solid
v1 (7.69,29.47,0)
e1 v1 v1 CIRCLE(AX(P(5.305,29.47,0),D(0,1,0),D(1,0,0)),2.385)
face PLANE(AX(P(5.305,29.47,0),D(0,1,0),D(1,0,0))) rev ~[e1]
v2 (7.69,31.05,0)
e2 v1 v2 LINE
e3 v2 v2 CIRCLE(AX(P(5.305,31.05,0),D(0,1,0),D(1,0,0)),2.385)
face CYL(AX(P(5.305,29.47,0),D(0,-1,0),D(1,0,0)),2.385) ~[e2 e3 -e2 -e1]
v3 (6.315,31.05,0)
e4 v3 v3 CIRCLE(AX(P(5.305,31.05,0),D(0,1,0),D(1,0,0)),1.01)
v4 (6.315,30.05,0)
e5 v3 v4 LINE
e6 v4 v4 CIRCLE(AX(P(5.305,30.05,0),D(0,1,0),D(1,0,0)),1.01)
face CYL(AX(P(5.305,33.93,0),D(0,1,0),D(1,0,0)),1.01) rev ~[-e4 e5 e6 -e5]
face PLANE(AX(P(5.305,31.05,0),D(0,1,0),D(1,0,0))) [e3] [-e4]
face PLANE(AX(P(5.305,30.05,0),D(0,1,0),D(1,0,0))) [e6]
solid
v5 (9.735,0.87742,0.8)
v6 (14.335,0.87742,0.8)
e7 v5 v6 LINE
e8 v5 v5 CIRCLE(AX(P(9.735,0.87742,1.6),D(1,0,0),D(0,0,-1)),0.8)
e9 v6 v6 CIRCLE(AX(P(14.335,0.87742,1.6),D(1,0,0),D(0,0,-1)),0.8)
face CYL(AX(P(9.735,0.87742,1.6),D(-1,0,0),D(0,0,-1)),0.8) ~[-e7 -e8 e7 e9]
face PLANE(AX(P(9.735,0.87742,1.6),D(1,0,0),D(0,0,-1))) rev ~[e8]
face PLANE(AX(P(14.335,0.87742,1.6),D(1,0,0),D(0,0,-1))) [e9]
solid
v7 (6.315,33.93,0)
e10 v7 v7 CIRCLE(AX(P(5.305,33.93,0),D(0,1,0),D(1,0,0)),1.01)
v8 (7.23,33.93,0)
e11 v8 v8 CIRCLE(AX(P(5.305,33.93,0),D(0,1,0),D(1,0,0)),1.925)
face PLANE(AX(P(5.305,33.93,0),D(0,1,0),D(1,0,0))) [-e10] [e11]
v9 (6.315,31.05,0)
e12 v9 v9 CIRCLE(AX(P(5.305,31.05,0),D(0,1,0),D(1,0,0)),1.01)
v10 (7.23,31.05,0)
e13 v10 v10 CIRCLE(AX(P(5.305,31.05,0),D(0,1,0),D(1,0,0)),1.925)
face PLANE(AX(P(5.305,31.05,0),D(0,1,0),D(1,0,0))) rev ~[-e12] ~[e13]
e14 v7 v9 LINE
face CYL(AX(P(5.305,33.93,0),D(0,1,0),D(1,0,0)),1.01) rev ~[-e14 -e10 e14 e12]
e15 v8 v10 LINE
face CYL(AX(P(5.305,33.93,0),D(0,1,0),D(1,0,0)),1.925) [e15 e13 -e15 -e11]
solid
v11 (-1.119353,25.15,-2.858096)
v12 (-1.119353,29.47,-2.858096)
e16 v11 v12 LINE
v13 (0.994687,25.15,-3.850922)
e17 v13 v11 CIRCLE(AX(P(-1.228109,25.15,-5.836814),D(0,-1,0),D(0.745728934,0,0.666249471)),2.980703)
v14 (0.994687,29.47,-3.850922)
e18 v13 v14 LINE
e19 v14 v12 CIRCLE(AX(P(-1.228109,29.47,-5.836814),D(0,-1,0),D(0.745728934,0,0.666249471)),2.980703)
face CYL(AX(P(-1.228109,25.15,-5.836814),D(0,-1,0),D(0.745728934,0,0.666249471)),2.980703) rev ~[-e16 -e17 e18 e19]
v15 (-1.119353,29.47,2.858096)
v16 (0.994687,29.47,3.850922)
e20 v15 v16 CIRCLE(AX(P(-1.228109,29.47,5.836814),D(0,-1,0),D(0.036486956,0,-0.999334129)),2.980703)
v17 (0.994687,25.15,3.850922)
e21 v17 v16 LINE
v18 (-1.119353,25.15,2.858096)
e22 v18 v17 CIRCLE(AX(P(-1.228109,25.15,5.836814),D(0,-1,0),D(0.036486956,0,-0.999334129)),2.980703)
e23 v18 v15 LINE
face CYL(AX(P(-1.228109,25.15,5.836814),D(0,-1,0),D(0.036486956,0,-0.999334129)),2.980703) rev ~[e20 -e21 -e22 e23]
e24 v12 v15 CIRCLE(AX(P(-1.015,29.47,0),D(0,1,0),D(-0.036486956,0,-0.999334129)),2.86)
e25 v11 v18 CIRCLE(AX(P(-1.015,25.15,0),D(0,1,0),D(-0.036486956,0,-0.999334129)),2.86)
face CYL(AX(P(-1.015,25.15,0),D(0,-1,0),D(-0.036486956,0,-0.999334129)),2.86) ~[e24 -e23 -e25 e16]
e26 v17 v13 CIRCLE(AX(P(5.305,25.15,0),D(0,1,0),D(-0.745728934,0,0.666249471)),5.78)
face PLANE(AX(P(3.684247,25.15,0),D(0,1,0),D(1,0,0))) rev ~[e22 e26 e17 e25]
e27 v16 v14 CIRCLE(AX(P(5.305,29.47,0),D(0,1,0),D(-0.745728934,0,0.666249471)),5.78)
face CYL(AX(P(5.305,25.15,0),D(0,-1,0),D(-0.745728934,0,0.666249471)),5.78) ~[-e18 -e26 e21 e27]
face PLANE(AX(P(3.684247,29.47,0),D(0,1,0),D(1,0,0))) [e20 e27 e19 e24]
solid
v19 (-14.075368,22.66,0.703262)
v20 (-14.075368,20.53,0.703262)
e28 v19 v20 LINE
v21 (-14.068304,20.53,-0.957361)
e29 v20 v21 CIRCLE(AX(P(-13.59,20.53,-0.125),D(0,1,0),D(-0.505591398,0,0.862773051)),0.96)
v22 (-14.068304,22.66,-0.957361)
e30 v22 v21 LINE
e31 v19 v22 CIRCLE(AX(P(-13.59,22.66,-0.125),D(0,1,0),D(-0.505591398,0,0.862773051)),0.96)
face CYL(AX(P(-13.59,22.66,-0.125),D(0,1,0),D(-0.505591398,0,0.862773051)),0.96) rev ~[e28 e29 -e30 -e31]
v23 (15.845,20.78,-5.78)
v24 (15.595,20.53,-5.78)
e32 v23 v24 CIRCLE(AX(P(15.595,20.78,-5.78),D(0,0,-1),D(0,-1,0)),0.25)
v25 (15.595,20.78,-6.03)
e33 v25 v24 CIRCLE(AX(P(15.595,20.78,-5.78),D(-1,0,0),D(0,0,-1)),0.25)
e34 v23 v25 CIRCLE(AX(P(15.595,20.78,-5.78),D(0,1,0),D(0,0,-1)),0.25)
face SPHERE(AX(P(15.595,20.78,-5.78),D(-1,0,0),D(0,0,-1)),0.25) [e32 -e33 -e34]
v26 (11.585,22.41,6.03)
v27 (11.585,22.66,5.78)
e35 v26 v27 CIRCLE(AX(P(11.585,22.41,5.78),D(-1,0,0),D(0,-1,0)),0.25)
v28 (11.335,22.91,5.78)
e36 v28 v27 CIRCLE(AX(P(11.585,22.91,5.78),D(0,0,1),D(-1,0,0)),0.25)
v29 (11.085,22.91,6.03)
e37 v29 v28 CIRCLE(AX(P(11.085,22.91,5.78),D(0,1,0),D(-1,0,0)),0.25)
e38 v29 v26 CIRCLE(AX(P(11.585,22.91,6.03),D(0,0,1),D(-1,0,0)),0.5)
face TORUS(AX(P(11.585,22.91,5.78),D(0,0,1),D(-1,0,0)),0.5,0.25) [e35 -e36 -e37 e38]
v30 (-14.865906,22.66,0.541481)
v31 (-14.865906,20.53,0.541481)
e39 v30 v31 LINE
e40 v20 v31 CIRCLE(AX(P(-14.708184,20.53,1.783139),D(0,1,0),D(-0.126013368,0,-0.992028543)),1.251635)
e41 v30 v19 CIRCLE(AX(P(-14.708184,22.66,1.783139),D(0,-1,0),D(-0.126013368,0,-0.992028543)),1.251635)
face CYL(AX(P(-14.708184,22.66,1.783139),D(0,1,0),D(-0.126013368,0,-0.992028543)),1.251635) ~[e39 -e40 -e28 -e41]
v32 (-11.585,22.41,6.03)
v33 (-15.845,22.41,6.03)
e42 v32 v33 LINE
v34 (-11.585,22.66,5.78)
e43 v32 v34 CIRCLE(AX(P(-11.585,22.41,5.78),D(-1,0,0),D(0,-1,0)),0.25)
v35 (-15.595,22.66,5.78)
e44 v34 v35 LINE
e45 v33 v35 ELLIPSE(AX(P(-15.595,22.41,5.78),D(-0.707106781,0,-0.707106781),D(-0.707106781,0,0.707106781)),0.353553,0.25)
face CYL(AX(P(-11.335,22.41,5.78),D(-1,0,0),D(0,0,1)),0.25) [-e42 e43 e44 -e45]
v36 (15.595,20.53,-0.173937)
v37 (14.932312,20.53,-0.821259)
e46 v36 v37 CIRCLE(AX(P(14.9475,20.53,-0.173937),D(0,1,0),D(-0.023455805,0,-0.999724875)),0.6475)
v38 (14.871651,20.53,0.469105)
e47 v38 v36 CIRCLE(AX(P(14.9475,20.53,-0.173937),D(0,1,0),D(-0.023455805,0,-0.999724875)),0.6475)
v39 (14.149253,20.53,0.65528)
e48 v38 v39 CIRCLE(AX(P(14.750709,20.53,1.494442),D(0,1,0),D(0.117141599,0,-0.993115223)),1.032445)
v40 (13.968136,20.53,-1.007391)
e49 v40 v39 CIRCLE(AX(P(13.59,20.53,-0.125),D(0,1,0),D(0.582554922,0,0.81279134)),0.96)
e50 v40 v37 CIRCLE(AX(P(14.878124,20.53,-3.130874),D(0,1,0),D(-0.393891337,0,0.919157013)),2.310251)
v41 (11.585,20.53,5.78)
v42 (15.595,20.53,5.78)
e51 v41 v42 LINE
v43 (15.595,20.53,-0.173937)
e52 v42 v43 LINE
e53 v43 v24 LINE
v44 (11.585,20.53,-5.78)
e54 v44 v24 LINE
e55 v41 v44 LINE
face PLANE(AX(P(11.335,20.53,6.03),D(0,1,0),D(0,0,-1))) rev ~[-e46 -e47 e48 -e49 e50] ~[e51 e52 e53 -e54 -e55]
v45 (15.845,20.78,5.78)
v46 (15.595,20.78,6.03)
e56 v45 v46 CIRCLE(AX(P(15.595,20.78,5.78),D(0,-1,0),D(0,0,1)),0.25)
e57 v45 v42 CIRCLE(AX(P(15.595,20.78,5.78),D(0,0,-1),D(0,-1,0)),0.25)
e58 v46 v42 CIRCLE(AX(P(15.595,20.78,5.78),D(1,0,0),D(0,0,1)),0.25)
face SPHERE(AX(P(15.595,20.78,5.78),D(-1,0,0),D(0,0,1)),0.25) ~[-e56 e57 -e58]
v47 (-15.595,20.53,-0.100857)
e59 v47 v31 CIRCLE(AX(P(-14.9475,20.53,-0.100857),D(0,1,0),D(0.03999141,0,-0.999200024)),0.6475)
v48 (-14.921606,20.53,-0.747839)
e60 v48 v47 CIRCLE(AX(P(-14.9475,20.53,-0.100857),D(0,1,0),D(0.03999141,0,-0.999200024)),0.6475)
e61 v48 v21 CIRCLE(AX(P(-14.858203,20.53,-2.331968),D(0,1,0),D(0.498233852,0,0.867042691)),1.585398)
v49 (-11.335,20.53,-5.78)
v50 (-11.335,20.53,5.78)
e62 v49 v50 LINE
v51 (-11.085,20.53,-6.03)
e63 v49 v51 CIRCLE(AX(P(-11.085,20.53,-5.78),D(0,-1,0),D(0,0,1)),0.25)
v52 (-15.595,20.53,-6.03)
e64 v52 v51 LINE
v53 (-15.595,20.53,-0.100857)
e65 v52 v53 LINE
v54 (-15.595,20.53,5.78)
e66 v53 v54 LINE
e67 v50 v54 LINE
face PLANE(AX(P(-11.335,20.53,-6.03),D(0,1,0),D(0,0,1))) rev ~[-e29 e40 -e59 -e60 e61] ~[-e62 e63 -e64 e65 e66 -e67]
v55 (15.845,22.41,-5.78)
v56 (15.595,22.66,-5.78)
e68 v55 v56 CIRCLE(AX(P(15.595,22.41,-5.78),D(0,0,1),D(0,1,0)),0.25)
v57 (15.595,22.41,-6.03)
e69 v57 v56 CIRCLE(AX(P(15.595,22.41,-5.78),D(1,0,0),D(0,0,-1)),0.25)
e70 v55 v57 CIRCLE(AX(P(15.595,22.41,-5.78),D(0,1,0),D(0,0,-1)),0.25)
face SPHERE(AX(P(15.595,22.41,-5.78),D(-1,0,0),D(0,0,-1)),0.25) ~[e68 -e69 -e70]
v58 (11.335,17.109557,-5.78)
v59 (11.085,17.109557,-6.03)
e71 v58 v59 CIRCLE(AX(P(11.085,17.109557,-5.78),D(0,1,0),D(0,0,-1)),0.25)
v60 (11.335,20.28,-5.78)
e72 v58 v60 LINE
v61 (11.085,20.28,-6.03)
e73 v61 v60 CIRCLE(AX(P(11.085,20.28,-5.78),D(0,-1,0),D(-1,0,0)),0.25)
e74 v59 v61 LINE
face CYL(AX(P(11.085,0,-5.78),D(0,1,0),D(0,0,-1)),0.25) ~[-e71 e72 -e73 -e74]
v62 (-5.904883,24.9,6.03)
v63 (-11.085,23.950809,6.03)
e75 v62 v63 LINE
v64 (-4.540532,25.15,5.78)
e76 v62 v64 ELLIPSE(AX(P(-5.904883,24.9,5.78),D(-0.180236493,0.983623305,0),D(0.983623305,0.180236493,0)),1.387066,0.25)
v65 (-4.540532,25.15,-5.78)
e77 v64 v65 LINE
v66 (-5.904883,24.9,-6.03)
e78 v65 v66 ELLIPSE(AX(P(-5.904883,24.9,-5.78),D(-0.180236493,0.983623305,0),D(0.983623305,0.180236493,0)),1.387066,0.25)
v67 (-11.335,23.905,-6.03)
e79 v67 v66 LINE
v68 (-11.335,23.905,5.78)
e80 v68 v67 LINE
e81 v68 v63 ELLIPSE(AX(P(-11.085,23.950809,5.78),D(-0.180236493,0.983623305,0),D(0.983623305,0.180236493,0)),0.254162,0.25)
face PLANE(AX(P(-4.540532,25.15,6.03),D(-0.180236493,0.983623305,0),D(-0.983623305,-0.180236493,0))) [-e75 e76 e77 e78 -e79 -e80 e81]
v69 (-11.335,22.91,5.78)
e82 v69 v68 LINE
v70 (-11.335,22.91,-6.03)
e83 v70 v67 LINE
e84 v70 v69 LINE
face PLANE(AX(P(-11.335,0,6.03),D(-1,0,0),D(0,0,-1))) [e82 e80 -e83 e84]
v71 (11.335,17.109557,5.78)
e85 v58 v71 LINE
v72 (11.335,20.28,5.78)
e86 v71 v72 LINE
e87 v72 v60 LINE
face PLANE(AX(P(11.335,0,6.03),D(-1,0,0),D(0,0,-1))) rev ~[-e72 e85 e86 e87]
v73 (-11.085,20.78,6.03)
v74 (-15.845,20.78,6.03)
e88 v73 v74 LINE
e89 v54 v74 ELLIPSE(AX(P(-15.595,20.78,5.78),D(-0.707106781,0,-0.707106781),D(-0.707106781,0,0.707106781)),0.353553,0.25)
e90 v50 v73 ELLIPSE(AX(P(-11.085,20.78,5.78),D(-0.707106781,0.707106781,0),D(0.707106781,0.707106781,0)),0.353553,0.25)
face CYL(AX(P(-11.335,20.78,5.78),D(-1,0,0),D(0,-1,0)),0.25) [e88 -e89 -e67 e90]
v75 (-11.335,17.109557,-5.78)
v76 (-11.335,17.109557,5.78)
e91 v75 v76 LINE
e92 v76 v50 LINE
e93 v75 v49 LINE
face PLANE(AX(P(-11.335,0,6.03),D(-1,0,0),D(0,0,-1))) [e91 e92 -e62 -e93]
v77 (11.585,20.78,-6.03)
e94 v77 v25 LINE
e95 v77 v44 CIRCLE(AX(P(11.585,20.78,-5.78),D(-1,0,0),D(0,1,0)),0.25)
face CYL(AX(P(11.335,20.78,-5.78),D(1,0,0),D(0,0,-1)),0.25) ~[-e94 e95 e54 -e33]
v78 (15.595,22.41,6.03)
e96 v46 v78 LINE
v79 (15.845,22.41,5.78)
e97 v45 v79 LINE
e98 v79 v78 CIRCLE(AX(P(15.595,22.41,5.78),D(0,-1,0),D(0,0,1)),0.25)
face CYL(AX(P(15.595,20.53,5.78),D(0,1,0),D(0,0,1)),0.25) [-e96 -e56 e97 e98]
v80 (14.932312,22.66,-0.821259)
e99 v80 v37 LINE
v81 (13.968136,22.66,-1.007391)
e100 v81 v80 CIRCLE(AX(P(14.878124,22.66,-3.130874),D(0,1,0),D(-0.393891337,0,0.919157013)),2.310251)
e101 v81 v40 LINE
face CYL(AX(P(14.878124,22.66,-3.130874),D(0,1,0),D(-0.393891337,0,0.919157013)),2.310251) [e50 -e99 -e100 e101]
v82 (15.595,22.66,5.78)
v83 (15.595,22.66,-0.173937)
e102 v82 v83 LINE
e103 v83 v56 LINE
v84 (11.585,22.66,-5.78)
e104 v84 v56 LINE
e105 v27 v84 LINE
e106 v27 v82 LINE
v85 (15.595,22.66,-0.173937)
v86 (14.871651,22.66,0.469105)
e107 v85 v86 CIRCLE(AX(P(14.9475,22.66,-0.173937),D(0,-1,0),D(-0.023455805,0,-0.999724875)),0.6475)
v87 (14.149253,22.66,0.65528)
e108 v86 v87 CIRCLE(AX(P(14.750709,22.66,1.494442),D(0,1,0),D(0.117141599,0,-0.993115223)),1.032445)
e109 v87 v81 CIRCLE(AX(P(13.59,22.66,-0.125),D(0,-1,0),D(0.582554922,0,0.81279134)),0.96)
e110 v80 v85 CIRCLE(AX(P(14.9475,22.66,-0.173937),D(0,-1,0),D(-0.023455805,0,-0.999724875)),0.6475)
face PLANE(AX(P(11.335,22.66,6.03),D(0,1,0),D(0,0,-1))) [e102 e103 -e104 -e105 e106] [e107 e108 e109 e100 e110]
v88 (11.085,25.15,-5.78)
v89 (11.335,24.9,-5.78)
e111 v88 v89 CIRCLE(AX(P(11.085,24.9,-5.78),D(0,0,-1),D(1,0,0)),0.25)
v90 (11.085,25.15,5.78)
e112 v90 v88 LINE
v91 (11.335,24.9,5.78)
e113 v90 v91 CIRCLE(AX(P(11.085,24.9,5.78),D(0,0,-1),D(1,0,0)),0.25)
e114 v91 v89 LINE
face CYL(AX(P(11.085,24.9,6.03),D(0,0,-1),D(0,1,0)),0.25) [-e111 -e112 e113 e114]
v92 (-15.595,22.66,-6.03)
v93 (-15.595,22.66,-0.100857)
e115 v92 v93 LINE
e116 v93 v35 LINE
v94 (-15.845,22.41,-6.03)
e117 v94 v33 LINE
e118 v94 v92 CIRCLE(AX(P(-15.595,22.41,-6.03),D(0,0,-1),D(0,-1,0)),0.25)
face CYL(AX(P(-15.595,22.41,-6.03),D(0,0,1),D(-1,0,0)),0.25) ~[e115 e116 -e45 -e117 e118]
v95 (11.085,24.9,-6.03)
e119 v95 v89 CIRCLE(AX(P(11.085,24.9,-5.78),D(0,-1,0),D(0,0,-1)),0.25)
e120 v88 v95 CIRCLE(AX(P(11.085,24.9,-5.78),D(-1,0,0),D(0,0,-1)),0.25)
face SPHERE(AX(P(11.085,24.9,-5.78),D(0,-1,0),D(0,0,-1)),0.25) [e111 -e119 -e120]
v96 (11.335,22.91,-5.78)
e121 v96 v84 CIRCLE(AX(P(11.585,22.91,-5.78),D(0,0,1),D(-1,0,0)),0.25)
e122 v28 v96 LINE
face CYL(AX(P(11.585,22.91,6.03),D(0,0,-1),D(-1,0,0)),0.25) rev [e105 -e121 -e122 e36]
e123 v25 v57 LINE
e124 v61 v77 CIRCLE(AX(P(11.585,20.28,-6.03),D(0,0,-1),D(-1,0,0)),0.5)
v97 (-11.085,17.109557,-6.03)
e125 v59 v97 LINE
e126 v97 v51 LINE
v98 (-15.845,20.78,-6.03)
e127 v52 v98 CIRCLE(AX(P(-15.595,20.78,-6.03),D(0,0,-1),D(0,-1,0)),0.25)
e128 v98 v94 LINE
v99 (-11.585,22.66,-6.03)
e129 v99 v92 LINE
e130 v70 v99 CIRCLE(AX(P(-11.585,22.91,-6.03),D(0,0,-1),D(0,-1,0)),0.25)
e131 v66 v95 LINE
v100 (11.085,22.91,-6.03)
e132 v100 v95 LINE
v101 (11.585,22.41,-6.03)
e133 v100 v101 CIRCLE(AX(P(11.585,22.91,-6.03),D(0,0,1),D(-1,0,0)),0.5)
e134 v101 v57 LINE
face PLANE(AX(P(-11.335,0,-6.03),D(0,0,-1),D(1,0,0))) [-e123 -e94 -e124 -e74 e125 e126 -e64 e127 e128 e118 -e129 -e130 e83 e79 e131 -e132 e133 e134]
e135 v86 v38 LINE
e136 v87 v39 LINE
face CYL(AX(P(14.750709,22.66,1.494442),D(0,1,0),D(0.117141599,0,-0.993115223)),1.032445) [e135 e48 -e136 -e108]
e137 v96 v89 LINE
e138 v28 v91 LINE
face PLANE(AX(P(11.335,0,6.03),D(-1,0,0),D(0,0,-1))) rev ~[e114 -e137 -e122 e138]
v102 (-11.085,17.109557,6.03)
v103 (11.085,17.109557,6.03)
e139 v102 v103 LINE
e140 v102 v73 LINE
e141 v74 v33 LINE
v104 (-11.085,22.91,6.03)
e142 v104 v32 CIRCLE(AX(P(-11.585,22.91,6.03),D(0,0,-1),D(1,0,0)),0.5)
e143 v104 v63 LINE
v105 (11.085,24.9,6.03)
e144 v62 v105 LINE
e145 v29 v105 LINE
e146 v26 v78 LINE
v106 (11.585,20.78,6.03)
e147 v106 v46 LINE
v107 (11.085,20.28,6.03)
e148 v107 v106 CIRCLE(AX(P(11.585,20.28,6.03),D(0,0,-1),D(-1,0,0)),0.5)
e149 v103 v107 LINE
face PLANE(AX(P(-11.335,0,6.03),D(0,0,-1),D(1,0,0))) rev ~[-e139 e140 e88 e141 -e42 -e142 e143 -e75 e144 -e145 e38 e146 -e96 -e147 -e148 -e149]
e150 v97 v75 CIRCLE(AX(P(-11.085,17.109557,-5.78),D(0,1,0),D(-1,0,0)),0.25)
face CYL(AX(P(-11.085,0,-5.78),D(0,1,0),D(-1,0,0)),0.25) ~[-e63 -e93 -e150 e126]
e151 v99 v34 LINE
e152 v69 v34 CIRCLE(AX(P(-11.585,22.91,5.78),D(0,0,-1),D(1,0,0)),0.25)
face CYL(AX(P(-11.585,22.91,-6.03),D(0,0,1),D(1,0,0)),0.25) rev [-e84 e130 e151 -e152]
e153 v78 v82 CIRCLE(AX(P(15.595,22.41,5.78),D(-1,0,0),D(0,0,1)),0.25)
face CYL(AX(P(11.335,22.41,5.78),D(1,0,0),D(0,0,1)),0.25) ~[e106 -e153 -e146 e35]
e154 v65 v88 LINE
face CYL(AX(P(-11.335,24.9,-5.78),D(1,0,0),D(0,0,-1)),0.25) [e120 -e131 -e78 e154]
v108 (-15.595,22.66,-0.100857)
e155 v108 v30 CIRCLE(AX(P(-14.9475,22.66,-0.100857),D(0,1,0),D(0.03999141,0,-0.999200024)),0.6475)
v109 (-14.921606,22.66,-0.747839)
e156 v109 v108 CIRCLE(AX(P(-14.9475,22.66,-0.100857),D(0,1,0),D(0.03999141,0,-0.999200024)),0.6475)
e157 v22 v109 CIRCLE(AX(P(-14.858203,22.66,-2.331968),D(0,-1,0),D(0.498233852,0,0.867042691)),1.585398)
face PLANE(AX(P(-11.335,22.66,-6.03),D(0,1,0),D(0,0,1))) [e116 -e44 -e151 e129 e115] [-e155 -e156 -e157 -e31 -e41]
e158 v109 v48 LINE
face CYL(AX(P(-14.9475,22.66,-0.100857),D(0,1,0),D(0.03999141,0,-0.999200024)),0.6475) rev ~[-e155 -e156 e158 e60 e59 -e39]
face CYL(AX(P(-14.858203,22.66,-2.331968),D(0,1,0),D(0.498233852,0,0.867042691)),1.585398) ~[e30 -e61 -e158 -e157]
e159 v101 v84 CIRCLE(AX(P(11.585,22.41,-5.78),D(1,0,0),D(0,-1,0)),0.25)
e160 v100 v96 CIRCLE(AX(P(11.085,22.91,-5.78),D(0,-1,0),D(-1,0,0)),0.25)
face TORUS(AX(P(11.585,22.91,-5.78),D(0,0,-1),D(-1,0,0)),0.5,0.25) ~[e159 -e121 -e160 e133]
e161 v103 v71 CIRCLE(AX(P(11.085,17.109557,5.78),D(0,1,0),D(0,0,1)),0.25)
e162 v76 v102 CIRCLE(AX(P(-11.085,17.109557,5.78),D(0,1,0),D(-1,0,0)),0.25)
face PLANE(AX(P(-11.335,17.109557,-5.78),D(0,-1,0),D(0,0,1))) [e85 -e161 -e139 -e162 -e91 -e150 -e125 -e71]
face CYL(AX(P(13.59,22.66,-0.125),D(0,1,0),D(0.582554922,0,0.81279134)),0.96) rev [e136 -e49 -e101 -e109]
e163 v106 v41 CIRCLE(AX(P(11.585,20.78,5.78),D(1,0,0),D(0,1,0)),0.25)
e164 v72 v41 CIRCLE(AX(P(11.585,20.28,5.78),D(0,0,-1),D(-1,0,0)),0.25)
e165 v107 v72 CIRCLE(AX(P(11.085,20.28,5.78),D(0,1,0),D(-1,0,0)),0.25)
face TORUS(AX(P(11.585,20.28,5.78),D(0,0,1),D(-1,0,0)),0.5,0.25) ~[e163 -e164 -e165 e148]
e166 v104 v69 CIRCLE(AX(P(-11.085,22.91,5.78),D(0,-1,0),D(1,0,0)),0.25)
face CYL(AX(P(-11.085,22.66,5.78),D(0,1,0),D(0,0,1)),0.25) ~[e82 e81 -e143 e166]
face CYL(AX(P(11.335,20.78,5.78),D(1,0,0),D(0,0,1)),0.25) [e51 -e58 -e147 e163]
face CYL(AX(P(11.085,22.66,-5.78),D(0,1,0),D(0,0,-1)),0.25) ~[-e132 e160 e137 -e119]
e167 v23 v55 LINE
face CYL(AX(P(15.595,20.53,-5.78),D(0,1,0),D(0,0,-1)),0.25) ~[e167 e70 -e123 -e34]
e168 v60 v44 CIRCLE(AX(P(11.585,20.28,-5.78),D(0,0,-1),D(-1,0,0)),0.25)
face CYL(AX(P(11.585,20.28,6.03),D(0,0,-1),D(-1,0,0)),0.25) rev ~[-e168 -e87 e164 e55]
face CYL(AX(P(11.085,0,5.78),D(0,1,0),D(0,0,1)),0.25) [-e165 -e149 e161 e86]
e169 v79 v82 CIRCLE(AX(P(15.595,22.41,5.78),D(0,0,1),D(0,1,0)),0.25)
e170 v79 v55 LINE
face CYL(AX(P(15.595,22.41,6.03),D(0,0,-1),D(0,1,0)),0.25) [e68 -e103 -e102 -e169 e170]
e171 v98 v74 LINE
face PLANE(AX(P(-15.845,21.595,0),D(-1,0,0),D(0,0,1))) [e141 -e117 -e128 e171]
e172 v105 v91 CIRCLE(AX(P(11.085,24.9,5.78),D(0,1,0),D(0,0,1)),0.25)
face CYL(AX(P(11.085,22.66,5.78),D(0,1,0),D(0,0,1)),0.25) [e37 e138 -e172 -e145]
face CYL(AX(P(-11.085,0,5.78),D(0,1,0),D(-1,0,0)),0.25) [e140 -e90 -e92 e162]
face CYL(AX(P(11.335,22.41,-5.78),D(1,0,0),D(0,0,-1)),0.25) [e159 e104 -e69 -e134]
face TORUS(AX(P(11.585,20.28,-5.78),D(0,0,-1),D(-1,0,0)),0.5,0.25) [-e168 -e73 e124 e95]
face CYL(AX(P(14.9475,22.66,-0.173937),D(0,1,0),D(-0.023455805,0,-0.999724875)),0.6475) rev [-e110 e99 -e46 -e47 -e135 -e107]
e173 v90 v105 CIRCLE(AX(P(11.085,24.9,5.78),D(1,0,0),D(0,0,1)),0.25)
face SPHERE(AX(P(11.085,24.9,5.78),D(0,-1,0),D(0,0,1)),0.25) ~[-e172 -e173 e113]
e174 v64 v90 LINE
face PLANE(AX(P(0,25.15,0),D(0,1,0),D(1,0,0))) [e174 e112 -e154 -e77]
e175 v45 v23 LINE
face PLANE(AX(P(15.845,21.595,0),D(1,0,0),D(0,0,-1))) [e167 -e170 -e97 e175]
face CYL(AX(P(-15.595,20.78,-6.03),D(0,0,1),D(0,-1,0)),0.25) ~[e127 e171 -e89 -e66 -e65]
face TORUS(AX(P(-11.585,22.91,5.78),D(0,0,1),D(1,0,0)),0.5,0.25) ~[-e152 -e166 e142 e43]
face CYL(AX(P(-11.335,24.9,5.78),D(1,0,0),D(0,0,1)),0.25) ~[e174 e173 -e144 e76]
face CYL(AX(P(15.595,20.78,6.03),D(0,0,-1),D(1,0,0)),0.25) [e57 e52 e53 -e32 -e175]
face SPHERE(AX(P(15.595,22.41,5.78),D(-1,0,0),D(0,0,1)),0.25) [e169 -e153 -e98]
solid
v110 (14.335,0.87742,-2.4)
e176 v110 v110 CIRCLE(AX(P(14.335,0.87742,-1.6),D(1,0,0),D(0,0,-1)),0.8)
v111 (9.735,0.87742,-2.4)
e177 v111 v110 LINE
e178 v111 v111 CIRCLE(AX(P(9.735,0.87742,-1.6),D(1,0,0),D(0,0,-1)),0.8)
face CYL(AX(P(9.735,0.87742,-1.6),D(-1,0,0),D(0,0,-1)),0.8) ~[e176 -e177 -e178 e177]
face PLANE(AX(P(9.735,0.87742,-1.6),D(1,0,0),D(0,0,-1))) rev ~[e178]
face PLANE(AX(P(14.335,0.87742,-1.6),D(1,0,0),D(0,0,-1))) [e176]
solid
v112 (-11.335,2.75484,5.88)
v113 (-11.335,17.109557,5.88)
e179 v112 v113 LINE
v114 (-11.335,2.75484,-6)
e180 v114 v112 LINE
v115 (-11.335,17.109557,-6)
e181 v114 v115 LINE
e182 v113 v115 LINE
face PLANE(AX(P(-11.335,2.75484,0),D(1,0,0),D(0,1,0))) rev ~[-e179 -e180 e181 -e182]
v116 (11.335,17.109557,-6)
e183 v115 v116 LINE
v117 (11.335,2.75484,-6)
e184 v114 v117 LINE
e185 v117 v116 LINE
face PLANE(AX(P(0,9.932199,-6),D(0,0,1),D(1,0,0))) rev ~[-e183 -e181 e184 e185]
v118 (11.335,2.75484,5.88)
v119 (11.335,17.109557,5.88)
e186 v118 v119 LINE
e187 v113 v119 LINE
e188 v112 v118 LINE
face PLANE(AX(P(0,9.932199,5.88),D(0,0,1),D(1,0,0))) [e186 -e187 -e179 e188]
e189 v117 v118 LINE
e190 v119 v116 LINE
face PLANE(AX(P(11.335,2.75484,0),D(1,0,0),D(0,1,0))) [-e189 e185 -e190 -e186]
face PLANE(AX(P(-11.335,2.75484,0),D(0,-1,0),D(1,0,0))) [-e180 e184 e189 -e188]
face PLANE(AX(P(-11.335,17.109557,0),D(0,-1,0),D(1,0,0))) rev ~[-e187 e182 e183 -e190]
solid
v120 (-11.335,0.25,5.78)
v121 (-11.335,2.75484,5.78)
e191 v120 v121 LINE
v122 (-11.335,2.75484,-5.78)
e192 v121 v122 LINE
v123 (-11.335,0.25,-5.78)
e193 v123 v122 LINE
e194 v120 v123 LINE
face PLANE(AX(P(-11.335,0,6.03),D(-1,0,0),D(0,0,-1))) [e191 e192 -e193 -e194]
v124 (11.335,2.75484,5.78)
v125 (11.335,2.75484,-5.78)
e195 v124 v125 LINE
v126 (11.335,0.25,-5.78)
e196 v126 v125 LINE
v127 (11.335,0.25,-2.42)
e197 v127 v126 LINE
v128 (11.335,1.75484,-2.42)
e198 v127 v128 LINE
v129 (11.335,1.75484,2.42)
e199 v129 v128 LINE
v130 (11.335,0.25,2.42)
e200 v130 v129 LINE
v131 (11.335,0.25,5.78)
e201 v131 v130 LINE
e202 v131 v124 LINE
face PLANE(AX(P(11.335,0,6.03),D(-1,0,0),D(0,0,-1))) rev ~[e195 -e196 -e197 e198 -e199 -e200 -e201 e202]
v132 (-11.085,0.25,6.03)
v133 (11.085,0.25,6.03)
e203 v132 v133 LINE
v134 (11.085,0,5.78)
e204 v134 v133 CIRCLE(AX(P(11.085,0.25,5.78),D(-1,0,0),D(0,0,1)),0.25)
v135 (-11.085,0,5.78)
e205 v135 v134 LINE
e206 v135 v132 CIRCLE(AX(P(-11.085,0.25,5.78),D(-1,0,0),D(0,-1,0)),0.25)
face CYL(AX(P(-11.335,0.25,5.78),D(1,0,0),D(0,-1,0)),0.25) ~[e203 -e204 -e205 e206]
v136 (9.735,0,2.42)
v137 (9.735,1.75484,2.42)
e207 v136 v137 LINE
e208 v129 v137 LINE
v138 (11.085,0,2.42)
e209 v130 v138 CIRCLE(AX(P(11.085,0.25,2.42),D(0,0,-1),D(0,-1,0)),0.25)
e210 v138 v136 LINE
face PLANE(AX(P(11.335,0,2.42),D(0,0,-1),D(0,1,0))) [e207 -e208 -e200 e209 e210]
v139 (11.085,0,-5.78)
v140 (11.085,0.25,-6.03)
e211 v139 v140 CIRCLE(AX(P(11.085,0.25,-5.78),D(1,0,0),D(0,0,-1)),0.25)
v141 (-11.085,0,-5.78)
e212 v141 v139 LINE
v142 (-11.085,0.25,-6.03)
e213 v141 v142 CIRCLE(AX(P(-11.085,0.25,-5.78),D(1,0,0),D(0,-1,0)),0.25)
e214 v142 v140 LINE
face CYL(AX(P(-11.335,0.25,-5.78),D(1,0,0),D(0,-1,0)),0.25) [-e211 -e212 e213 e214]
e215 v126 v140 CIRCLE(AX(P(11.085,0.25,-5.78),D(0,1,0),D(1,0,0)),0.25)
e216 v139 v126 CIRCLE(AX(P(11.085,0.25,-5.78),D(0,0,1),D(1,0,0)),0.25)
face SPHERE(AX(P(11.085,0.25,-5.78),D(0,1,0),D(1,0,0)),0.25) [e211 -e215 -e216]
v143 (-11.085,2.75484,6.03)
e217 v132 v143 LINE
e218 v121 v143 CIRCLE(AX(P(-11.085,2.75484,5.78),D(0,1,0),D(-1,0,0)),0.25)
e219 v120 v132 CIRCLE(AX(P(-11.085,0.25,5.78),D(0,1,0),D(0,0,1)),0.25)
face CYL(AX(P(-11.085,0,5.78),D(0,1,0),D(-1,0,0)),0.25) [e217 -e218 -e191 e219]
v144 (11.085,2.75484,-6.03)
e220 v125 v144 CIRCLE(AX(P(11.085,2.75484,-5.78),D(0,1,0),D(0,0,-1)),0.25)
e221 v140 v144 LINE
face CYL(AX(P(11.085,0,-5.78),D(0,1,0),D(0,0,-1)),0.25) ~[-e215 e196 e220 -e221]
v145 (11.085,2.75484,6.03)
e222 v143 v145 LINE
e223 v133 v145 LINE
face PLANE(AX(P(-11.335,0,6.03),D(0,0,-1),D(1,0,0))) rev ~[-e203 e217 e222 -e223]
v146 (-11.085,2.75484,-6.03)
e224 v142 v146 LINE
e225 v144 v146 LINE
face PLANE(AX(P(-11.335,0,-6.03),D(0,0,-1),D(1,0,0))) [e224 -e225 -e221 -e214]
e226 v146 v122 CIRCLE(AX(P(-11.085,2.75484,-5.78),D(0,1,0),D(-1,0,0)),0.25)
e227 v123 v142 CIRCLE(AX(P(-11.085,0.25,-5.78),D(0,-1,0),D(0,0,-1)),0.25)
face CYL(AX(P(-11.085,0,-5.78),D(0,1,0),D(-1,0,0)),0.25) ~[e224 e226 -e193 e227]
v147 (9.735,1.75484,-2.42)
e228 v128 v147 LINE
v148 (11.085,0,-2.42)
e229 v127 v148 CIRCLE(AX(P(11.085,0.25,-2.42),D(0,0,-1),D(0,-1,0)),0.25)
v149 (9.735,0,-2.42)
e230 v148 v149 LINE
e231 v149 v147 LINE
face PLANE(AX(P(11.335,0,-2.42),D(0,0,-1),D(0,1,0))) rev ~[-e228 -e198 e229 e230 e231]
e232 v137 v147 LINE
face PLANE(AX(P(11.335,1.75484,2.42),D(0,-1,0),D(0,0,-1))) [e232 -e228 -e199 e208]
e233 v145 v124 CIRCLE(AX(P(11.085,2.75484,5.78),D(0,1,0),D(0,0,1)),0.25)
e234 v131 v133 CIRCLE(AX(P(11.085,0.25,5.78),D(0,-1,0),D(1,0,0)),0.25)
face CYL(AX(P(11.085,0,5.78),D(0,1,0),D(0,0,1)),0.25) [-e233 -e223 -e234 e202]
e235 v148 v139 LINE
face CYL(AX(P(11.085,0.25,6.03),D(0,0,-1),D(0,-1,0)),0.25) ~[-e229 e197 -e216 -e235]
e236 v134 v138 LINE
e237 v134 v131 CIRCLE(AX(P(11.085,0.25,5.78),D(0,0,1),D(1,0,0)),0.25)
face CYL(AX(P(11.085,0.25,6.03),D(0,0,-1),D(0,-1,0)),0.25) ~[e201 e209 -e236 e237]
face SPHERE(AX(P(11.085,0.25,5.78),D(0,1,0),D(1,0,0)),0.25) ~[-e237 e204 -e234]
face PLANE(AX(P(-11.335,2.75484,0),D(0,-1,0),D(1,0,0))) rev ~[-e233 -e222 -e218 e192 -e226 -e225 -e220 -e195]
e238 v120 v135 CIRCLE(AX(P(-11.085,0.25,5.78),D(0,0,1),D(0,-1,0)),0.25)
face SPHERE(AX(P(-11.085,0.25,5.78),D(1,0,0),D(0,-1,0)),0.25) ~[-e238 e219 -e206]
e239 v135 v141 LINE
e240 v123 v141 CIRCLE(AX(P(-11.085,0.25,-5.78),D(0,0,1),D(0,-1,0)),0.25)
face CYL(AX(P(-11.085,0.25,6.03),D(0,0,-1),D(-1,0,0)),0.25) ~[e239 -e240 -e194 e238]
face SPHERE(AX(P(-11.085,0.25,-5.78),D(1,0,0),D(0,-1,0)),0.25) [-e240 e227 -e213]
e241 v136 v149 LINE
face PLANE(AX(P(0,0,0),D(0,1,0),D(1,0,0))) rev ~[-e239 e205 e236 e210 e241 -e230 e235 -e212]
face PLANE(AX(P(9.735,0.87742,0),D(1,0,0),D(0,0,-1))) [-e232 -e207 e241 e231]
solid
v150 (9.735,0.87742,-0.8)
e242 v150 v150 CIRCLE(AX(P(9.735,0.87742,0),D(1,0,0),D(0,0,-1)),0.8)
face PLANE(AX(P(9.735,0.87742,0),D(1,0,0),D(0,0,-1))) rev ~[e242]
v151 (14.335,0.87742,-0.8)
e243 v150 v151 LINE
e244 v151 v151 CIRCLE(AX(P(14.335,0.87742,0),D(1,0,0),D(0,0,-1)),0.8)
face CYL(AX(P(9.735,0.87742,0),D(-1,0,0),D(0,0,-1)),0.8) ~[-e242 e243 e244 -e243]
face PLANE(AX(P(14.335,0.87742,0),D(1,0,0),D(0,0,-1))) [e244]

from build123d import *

# Parameters (mm, degrees)
CROQUIS1_W                   = 22.67
CROQUIS1_H                   = 12.06
SALIENTE_EXTRUIR1_DEPTH      = 25.15
CROQUIS2_W                   = 12.06
CROQUIS2_H                   = 2.13
SALIENTE_EXTRUIR2_DEPTH      = 4.51
CROQUIS5_W                   = 12.06
CROQUIS5_H                   = 2.13
SALIENTE_EXTRUIR3_DEPTH      = 4.51
REDONDEO1_R                  = 0.25
CORTAR_EXTRUIR12_DEPTH       = 4.51
SALIENTE_EXTRUIR4_DEPTH      = 4.32
CROQUIS9_R                   = 2.385
SALIENTE_EXTRUIR5_DEPTH      = 1.58
CROQUIS10_R                  = 2.385
SALIENTE_EXTRUIR6_DEPTH      = 2.88
CROQUIS11_R                  = 1.01
CORTAR_EXTRUIR13_DEPTH       = 3.88
CROQUIS12_R                  = 2.385
CROQUIS12_R_2                = 1.925
CORTAR_EXTRUIR14_DEPTH       = 2.88
CORTAR_EXTRUIR15_DEPTH       = 16.88
CROQUIS14_W                  = 22.17
CROQUIS14_H                  = 14.33
CORTAR_EXTRUIR16_DEPTH       = 16.88
CROQUIS16_W                  = 11.56
CROQUIS16_H                  = 14.354716837
CORTAR_EXTRUIR17_DEPTH       = 27.88
CROQUIS17_W                  = 22.67
CROQUIS17_H                  = 14.354716837
CORTAR_EXTRUIR18_DEPTH       = 27.88
CORTAR_EXTRUIR18_DEPTH_BACK  = 27.88
CROQUIS18_W                  = 22.67
CROQUIS18_H                  = 14.354716837
SALIENTE_EXTRUIR7_DEPTH      = 5.88
SALIENTE_EXTRUIR7_DEPTH_BACK = 6
CROQUIS19_W                  = 4.84
CROQUIS19_H                  = 1.754840309
CORTAR_EXTRUIR19_DEPTH       = 1.6
CROQUIS20_R                  = 0.8
SALIENTE_EXTRUIR8_DEPTH      = 4.6
SALIENTE_EXTRUIR8_2_DEPTH    = 4.6
SALIENTE_EXTRUIR8_3_DEPTH    = 4.6


with BuildPart() as part:
    # Croquis1 → Saliente-Extruir1 (new body)
    with BuildSketch(Plane(origin=(0, 0, 0), x_dir=(1, 0, 0), z_dir=(0, 1, 0))):
        Rectangle(CROQUIS1_W, CROQUIS1_H)
    extrude(amount=SALIENTE_EXTRUIR1_DEPTH)

    # Croquis2 → Saliente-Extruir2 (add)
    with BuildSketch(Plane(origin=(11.335, 0, 0), x_dir=(0, 0, -1), z_dir=(1, 0, 0))):
        with Locations((0, 21.595)):
            Rectangle(CROQUIS2_W, CROQUIS2_H)
    extrude(amount=SALIENTE_EXTRUIR2_DEPTH)

    # Croquis5 → Saliente-Extruir3 (add)
    with BuildSketch(Plane.ZY.offset(11.335)):
        with Locations((0, 21.595)):
            Rectangle(CROQUIS5_W, CROQUIS5_H)
    extrude(amount=SALIENTE_EXTRUIR3_DEPTH)

    # Redondeo1
    redondeo1_edges = [part.edges().sort_by_distance(p)[0] for p in [
        (-11.335, 23.905, 6.03),
        (11.335, 10.265, 6.03),
        (11.335, 23.905, 6.03),
        (11.335, 23.905, -6.03),
        (11.335, 10.265, -6.03),
        (11.335, 0, 0),
        (0, 0, -6.03),
        (0, 0, 6.03),
        (-11.335, 0, 0),
        (-11.335, 10.265, -6.03),
        (-11.335, 10.265, 6.03),
        (-13.59, 20.53, 6.03),
        (-13.59, 22.66, 6.03),
        (0, 25.15, -6.03),
        (0, 25.15, 6.03),
        (-11.335, 22.66, 0),
        (-11.335, 25.15, 0),
        (11.335, 25.15, 0),
        (13.59, 20.53, 6.03),
        (13.59, 22.66, 6.03),
        (13.59, 22.66, -6.03),
        (13.59, 20.53, -6.03),
        (11.335, 20.53, 0),
        (11.335, 22.66, 0),
        (15.845, 21.595, -6.03),
        (15.845, 21.595, 6.03),
        (15.845, 20.53, 0),
        (15.845, 22.66, 0),
        (-15.845, 20.53, 0),
        (-15.845, 22.66, 0),
    ]]
    fillet(redondeo1_edges, radius=REDONDEO1_R)

    # Croquis6 → Cortar-Extruir12 (cut)
    with BuildSketch(Plane(origin=(0, 22.66, 0), x_dir=(1, 0, 0), z_dir=(0, 1, 0))):
        with BuildLine():
            ThreePointArc((-14.075367742, -0.703262129), (-12.630008684, 0.120916802), (-14.068304498, 0.957360983))
            ThreePointArc((-14.068304498, 0.957360983), (-14.480150175, 0.792305621), (-14.921605562, 0.74783906))
            ThreePointArc((-14.921605562, 0.74783906), (-15.594396637, 0.072910823), (-14.865906344, -0.541481437))
            ThreePointArc((-14.865906344, -0.541481437), (-14.457242144, -0.556917834), (-14.075367742, -0.703262129))
        make_face()
        with BuildLine():
            ThreePointArc((14.149252725, -0.655279686), (12.635645512, 0.021040815), (13.968135683, 1.007390733))
            ThreePointArc((13.968135683, 1.007390733), (14.44022027, 0.862504591), (14.932312366, 0.821258744))
            ThreePointArc((14.932312366, 0.821258744), (15.594285679, 0.14353072), (14.871650813, -0.469105219))
            ThreePointArc((14.871650813, -0.469105219), (14.493048788, -0.494665037), (14.149252725, -0.655279686))
        make_face()
    extrude(amount=-CORTAR_EXTRUIR12_DEPTH, mode=Mode.SUBTRACT)

    # Croquis13 → Cortar-Extruir15 (cut)
    with BuildSketch(Plane.XY.offset(6.03)):
        Polygon((-4.540532383, 25.15), (-11.335, 23.905), (-11.335, 25.15), align=None)
    extrude(amount=-CORTAR_EXTRUIR15_DEPTH, mode=Mode.SUBTRACT)

    # Croquis14 → Cortar-Extruir16 (cut)
    with BuildSketch(Plane.XY.offset(6.03)):
        with Locations((0, 9.935)):
            Rectangle(CROQUIS14_W, CROQUIS14_H)
    extrude(amount=-CORTAR_EXTRUIR16_DEPTH, mode=Mode.SUBTRACT)

    # Croquis16 → Cortar-Extruir17 (cut)
    with BuildSketch(Plane.ZY.offset(11.335)):
        with Locations((0, 9.932198727)):
            Rectangle(CROQUIS16_W, CROQUIS16_H)
    extrude(amount=-CORTAR_EXTRUIR17_DEPTH, mode=Mode.SUBTRACT)

    # Croquis17 → Cortar-Extruir18 (cut, two sides)
    with BuildSketch(Plane.XY) as cortar_extruir18_sk:
        with Locations((0, 9.932198727)):
            Rectangle(CROQUIS17_W, CROQUIS17_H)
    extrude(amount=CORTAR_EXTRUIR18_DEPTH, mode=Mode.SUBTRACT)
    extrude(cortar_extruir18_sk.sketch, amount=-CORTAR_EXTRUIR18_DEPTH_BACK, mode=Mode.SUBTRACT)

    # Croquis19 → Cortar-Extruir19 (cut)
    with BuildSketch(Plane(origin=(11.335, 0, 0), x_dir=(0, 0, -1), z_dir=(1, 0, 0))):
        with Locations((0, 0.877420155)):
            Rectangle(CROQUIS19_W, CROQUIS19_H)
    extrude(amount=-CORTAR_EXTRUIR19_DEPTH, mode=Mode.SUBTRACT)


with BuildPart() as body_2:
    # Croquis8 → Saliente-Extruir4 (new body)
    with BuildSketch(Plane(origin=(0, 25.15, 0), x_dir=(1, 0, 0), z_dir=(0, 1, 0))):
        with BuildLine():
            ThreePointArc((0.994686763, -3.850921942), (11.085, 0), (0.994686763, 3.850921942))
            ThreePointArc((0.994686763, 3.850921942), (0.038958362, 3.138827688), (-1.119352695, 2.85809561))
            ThreePointArc((-1.119352695, 2.85809561), (-3.875, 0), (-1.119352695, -2.85809561))
            ThreePointArc((-1.119352695, -2.85809561), (0.038958362, -3.138827688), (0.994686763, -3.850921942))
        make_face()
    extrude(amount=SALIENTE_EXTRUIR4_DEPTH)


with BuildPart() as body_3:
    # Croquis9 → Saliente-Extruir5 (new body)
    with BuildSketch(Plane(origin=(0, 29.47, 0), x_dir=(1, 0, 0), z_dir=(0, 1, 0))):
        with Locations((5.305, 0)):
            Circle(CROQUIS9_R)
    extrude(amount=SALIENTE_EXTRUIR5_DEPTH)


with BuildPart() as body_4:
    # Croquis10 → Saliente-Extruir6 (new body)
    with BuildSketch(Plane(origin=(0, 31.05, 0), x_dir=(1, 0, 0), z_dir=(0, 1, 0))):
        with Locations((5.305, 0)):
            Circle(CROQUIS10_R)
    extrude(amount=SALIENTE_EXTRUIR6_DEPTH)


with BuildPart() as cortar_extruir13_tool:
    # Croquis11 → Cortar-Extruir13 (new body)
    with BuildSketch(Plane(origin=(0, 33.93, 0), x_dir=(1, 0, 0), z_dir=(0, 1, 0))):
        with Locations((5.305, 0)):
            Circle(CROQUIS11_R)
    extrude(amount=-CORTAR_EXTRUIR13_DEPTH)


with BuildPart() as body_3_1:
    add(body_3.part)

    # Cortar-Extruir13: cut by cortar_extruir13_tool
    add(cortar_extruir13_tool.part, mode=Mode.SUBTRACT)


with BuildPart() as body_4_1:
    add(body_4.part)

    # Cortar-Extruir13: cut by cortar_extruir13_tool
    add(cortar_extruir13_tool.part, mode=Mode.SUBTRACT)

    # Croquis12 → Cortar-Extruir14 (cut)
    with BuildSketch(Plane(origin=(0, 33.93, 0), x_dir=(1, 0, 0), z_dir=(0, 1, 0))):
        with Locations((5.305, 0)):
            Circle(CROQUIS12_R)
        with Locations((5.305, 0)):
            Circle(CROQUIS12_R_2, mode=Mode.SUBTRACT)
    extrude(amount=-CORTAR_EXTRUIR14_DEPTH, mode=Mode.SUBTRACT)


with BuildPart() as body_5:
    # Croquis18 → Saliente-Extruir7 (new body, two sides)
    with BuildSketch(Plane.XY) as saliente_extruir7_sk:
        with Locations((0, 9.932198727)):
            Rectangle(CROQUIS18_W, CROQUIS18_H)
    extrude(amount=SALIENTE_EXTRUIR7_DEPTH)
    extrude(saliente_extruir7_sk.sketch, amount=-SALIENTE_EXTRUIR7_DEPTH_BACK)


with BuildPart() as body_6:
    # Croquis20 → Saliente-Extruir8 (new body)
    with BuildSketch(Plane(origin=(9.735, 0, 0), x_dir=(0, 0, -1), z_dir=(1, 0, 0))):
        with Locations((-1.6, 0.877420155)):
            Circle(CROQUIS20_R)
    extrude(amount=SALIENTE_EXTRUIR8_DEPTH)


with BuildPart() as body_7:
    # Croquis20 → Saliente-Extruir8 2 (new body)
    with BuildSketch(Plane(origin=(9.735, 0, 0), x_dir=(0, 0, -1), z_dir=(1, 0, 0))):
        with Locations((0, 0.877420155)):
            Circle(CROQUIS20_R)
    extrude(amount=SALIENTE_EXTRUIR8_2_DEPTH)


with BuildPart() as body_8:
    # Croquis20 → Saliente-Extruir8 3 (new body)
    with BuildSketch(Plane(origin=(9.735, 0, 0), x_dir=(0, 0, -1), z_dir=(1, 0, 0))):
        with Locations((1.6, 0.877420155)):
            Circle(CROQUIS20_R)
    extrude(amount=SALIENTE_EXTRUIR8_3_DEPTH)


solid = Compound([part.part, body_2.part, body_3_1.part, body_4_1.part, body_5.part, body_6.part, body_7.part, body_8.part])
